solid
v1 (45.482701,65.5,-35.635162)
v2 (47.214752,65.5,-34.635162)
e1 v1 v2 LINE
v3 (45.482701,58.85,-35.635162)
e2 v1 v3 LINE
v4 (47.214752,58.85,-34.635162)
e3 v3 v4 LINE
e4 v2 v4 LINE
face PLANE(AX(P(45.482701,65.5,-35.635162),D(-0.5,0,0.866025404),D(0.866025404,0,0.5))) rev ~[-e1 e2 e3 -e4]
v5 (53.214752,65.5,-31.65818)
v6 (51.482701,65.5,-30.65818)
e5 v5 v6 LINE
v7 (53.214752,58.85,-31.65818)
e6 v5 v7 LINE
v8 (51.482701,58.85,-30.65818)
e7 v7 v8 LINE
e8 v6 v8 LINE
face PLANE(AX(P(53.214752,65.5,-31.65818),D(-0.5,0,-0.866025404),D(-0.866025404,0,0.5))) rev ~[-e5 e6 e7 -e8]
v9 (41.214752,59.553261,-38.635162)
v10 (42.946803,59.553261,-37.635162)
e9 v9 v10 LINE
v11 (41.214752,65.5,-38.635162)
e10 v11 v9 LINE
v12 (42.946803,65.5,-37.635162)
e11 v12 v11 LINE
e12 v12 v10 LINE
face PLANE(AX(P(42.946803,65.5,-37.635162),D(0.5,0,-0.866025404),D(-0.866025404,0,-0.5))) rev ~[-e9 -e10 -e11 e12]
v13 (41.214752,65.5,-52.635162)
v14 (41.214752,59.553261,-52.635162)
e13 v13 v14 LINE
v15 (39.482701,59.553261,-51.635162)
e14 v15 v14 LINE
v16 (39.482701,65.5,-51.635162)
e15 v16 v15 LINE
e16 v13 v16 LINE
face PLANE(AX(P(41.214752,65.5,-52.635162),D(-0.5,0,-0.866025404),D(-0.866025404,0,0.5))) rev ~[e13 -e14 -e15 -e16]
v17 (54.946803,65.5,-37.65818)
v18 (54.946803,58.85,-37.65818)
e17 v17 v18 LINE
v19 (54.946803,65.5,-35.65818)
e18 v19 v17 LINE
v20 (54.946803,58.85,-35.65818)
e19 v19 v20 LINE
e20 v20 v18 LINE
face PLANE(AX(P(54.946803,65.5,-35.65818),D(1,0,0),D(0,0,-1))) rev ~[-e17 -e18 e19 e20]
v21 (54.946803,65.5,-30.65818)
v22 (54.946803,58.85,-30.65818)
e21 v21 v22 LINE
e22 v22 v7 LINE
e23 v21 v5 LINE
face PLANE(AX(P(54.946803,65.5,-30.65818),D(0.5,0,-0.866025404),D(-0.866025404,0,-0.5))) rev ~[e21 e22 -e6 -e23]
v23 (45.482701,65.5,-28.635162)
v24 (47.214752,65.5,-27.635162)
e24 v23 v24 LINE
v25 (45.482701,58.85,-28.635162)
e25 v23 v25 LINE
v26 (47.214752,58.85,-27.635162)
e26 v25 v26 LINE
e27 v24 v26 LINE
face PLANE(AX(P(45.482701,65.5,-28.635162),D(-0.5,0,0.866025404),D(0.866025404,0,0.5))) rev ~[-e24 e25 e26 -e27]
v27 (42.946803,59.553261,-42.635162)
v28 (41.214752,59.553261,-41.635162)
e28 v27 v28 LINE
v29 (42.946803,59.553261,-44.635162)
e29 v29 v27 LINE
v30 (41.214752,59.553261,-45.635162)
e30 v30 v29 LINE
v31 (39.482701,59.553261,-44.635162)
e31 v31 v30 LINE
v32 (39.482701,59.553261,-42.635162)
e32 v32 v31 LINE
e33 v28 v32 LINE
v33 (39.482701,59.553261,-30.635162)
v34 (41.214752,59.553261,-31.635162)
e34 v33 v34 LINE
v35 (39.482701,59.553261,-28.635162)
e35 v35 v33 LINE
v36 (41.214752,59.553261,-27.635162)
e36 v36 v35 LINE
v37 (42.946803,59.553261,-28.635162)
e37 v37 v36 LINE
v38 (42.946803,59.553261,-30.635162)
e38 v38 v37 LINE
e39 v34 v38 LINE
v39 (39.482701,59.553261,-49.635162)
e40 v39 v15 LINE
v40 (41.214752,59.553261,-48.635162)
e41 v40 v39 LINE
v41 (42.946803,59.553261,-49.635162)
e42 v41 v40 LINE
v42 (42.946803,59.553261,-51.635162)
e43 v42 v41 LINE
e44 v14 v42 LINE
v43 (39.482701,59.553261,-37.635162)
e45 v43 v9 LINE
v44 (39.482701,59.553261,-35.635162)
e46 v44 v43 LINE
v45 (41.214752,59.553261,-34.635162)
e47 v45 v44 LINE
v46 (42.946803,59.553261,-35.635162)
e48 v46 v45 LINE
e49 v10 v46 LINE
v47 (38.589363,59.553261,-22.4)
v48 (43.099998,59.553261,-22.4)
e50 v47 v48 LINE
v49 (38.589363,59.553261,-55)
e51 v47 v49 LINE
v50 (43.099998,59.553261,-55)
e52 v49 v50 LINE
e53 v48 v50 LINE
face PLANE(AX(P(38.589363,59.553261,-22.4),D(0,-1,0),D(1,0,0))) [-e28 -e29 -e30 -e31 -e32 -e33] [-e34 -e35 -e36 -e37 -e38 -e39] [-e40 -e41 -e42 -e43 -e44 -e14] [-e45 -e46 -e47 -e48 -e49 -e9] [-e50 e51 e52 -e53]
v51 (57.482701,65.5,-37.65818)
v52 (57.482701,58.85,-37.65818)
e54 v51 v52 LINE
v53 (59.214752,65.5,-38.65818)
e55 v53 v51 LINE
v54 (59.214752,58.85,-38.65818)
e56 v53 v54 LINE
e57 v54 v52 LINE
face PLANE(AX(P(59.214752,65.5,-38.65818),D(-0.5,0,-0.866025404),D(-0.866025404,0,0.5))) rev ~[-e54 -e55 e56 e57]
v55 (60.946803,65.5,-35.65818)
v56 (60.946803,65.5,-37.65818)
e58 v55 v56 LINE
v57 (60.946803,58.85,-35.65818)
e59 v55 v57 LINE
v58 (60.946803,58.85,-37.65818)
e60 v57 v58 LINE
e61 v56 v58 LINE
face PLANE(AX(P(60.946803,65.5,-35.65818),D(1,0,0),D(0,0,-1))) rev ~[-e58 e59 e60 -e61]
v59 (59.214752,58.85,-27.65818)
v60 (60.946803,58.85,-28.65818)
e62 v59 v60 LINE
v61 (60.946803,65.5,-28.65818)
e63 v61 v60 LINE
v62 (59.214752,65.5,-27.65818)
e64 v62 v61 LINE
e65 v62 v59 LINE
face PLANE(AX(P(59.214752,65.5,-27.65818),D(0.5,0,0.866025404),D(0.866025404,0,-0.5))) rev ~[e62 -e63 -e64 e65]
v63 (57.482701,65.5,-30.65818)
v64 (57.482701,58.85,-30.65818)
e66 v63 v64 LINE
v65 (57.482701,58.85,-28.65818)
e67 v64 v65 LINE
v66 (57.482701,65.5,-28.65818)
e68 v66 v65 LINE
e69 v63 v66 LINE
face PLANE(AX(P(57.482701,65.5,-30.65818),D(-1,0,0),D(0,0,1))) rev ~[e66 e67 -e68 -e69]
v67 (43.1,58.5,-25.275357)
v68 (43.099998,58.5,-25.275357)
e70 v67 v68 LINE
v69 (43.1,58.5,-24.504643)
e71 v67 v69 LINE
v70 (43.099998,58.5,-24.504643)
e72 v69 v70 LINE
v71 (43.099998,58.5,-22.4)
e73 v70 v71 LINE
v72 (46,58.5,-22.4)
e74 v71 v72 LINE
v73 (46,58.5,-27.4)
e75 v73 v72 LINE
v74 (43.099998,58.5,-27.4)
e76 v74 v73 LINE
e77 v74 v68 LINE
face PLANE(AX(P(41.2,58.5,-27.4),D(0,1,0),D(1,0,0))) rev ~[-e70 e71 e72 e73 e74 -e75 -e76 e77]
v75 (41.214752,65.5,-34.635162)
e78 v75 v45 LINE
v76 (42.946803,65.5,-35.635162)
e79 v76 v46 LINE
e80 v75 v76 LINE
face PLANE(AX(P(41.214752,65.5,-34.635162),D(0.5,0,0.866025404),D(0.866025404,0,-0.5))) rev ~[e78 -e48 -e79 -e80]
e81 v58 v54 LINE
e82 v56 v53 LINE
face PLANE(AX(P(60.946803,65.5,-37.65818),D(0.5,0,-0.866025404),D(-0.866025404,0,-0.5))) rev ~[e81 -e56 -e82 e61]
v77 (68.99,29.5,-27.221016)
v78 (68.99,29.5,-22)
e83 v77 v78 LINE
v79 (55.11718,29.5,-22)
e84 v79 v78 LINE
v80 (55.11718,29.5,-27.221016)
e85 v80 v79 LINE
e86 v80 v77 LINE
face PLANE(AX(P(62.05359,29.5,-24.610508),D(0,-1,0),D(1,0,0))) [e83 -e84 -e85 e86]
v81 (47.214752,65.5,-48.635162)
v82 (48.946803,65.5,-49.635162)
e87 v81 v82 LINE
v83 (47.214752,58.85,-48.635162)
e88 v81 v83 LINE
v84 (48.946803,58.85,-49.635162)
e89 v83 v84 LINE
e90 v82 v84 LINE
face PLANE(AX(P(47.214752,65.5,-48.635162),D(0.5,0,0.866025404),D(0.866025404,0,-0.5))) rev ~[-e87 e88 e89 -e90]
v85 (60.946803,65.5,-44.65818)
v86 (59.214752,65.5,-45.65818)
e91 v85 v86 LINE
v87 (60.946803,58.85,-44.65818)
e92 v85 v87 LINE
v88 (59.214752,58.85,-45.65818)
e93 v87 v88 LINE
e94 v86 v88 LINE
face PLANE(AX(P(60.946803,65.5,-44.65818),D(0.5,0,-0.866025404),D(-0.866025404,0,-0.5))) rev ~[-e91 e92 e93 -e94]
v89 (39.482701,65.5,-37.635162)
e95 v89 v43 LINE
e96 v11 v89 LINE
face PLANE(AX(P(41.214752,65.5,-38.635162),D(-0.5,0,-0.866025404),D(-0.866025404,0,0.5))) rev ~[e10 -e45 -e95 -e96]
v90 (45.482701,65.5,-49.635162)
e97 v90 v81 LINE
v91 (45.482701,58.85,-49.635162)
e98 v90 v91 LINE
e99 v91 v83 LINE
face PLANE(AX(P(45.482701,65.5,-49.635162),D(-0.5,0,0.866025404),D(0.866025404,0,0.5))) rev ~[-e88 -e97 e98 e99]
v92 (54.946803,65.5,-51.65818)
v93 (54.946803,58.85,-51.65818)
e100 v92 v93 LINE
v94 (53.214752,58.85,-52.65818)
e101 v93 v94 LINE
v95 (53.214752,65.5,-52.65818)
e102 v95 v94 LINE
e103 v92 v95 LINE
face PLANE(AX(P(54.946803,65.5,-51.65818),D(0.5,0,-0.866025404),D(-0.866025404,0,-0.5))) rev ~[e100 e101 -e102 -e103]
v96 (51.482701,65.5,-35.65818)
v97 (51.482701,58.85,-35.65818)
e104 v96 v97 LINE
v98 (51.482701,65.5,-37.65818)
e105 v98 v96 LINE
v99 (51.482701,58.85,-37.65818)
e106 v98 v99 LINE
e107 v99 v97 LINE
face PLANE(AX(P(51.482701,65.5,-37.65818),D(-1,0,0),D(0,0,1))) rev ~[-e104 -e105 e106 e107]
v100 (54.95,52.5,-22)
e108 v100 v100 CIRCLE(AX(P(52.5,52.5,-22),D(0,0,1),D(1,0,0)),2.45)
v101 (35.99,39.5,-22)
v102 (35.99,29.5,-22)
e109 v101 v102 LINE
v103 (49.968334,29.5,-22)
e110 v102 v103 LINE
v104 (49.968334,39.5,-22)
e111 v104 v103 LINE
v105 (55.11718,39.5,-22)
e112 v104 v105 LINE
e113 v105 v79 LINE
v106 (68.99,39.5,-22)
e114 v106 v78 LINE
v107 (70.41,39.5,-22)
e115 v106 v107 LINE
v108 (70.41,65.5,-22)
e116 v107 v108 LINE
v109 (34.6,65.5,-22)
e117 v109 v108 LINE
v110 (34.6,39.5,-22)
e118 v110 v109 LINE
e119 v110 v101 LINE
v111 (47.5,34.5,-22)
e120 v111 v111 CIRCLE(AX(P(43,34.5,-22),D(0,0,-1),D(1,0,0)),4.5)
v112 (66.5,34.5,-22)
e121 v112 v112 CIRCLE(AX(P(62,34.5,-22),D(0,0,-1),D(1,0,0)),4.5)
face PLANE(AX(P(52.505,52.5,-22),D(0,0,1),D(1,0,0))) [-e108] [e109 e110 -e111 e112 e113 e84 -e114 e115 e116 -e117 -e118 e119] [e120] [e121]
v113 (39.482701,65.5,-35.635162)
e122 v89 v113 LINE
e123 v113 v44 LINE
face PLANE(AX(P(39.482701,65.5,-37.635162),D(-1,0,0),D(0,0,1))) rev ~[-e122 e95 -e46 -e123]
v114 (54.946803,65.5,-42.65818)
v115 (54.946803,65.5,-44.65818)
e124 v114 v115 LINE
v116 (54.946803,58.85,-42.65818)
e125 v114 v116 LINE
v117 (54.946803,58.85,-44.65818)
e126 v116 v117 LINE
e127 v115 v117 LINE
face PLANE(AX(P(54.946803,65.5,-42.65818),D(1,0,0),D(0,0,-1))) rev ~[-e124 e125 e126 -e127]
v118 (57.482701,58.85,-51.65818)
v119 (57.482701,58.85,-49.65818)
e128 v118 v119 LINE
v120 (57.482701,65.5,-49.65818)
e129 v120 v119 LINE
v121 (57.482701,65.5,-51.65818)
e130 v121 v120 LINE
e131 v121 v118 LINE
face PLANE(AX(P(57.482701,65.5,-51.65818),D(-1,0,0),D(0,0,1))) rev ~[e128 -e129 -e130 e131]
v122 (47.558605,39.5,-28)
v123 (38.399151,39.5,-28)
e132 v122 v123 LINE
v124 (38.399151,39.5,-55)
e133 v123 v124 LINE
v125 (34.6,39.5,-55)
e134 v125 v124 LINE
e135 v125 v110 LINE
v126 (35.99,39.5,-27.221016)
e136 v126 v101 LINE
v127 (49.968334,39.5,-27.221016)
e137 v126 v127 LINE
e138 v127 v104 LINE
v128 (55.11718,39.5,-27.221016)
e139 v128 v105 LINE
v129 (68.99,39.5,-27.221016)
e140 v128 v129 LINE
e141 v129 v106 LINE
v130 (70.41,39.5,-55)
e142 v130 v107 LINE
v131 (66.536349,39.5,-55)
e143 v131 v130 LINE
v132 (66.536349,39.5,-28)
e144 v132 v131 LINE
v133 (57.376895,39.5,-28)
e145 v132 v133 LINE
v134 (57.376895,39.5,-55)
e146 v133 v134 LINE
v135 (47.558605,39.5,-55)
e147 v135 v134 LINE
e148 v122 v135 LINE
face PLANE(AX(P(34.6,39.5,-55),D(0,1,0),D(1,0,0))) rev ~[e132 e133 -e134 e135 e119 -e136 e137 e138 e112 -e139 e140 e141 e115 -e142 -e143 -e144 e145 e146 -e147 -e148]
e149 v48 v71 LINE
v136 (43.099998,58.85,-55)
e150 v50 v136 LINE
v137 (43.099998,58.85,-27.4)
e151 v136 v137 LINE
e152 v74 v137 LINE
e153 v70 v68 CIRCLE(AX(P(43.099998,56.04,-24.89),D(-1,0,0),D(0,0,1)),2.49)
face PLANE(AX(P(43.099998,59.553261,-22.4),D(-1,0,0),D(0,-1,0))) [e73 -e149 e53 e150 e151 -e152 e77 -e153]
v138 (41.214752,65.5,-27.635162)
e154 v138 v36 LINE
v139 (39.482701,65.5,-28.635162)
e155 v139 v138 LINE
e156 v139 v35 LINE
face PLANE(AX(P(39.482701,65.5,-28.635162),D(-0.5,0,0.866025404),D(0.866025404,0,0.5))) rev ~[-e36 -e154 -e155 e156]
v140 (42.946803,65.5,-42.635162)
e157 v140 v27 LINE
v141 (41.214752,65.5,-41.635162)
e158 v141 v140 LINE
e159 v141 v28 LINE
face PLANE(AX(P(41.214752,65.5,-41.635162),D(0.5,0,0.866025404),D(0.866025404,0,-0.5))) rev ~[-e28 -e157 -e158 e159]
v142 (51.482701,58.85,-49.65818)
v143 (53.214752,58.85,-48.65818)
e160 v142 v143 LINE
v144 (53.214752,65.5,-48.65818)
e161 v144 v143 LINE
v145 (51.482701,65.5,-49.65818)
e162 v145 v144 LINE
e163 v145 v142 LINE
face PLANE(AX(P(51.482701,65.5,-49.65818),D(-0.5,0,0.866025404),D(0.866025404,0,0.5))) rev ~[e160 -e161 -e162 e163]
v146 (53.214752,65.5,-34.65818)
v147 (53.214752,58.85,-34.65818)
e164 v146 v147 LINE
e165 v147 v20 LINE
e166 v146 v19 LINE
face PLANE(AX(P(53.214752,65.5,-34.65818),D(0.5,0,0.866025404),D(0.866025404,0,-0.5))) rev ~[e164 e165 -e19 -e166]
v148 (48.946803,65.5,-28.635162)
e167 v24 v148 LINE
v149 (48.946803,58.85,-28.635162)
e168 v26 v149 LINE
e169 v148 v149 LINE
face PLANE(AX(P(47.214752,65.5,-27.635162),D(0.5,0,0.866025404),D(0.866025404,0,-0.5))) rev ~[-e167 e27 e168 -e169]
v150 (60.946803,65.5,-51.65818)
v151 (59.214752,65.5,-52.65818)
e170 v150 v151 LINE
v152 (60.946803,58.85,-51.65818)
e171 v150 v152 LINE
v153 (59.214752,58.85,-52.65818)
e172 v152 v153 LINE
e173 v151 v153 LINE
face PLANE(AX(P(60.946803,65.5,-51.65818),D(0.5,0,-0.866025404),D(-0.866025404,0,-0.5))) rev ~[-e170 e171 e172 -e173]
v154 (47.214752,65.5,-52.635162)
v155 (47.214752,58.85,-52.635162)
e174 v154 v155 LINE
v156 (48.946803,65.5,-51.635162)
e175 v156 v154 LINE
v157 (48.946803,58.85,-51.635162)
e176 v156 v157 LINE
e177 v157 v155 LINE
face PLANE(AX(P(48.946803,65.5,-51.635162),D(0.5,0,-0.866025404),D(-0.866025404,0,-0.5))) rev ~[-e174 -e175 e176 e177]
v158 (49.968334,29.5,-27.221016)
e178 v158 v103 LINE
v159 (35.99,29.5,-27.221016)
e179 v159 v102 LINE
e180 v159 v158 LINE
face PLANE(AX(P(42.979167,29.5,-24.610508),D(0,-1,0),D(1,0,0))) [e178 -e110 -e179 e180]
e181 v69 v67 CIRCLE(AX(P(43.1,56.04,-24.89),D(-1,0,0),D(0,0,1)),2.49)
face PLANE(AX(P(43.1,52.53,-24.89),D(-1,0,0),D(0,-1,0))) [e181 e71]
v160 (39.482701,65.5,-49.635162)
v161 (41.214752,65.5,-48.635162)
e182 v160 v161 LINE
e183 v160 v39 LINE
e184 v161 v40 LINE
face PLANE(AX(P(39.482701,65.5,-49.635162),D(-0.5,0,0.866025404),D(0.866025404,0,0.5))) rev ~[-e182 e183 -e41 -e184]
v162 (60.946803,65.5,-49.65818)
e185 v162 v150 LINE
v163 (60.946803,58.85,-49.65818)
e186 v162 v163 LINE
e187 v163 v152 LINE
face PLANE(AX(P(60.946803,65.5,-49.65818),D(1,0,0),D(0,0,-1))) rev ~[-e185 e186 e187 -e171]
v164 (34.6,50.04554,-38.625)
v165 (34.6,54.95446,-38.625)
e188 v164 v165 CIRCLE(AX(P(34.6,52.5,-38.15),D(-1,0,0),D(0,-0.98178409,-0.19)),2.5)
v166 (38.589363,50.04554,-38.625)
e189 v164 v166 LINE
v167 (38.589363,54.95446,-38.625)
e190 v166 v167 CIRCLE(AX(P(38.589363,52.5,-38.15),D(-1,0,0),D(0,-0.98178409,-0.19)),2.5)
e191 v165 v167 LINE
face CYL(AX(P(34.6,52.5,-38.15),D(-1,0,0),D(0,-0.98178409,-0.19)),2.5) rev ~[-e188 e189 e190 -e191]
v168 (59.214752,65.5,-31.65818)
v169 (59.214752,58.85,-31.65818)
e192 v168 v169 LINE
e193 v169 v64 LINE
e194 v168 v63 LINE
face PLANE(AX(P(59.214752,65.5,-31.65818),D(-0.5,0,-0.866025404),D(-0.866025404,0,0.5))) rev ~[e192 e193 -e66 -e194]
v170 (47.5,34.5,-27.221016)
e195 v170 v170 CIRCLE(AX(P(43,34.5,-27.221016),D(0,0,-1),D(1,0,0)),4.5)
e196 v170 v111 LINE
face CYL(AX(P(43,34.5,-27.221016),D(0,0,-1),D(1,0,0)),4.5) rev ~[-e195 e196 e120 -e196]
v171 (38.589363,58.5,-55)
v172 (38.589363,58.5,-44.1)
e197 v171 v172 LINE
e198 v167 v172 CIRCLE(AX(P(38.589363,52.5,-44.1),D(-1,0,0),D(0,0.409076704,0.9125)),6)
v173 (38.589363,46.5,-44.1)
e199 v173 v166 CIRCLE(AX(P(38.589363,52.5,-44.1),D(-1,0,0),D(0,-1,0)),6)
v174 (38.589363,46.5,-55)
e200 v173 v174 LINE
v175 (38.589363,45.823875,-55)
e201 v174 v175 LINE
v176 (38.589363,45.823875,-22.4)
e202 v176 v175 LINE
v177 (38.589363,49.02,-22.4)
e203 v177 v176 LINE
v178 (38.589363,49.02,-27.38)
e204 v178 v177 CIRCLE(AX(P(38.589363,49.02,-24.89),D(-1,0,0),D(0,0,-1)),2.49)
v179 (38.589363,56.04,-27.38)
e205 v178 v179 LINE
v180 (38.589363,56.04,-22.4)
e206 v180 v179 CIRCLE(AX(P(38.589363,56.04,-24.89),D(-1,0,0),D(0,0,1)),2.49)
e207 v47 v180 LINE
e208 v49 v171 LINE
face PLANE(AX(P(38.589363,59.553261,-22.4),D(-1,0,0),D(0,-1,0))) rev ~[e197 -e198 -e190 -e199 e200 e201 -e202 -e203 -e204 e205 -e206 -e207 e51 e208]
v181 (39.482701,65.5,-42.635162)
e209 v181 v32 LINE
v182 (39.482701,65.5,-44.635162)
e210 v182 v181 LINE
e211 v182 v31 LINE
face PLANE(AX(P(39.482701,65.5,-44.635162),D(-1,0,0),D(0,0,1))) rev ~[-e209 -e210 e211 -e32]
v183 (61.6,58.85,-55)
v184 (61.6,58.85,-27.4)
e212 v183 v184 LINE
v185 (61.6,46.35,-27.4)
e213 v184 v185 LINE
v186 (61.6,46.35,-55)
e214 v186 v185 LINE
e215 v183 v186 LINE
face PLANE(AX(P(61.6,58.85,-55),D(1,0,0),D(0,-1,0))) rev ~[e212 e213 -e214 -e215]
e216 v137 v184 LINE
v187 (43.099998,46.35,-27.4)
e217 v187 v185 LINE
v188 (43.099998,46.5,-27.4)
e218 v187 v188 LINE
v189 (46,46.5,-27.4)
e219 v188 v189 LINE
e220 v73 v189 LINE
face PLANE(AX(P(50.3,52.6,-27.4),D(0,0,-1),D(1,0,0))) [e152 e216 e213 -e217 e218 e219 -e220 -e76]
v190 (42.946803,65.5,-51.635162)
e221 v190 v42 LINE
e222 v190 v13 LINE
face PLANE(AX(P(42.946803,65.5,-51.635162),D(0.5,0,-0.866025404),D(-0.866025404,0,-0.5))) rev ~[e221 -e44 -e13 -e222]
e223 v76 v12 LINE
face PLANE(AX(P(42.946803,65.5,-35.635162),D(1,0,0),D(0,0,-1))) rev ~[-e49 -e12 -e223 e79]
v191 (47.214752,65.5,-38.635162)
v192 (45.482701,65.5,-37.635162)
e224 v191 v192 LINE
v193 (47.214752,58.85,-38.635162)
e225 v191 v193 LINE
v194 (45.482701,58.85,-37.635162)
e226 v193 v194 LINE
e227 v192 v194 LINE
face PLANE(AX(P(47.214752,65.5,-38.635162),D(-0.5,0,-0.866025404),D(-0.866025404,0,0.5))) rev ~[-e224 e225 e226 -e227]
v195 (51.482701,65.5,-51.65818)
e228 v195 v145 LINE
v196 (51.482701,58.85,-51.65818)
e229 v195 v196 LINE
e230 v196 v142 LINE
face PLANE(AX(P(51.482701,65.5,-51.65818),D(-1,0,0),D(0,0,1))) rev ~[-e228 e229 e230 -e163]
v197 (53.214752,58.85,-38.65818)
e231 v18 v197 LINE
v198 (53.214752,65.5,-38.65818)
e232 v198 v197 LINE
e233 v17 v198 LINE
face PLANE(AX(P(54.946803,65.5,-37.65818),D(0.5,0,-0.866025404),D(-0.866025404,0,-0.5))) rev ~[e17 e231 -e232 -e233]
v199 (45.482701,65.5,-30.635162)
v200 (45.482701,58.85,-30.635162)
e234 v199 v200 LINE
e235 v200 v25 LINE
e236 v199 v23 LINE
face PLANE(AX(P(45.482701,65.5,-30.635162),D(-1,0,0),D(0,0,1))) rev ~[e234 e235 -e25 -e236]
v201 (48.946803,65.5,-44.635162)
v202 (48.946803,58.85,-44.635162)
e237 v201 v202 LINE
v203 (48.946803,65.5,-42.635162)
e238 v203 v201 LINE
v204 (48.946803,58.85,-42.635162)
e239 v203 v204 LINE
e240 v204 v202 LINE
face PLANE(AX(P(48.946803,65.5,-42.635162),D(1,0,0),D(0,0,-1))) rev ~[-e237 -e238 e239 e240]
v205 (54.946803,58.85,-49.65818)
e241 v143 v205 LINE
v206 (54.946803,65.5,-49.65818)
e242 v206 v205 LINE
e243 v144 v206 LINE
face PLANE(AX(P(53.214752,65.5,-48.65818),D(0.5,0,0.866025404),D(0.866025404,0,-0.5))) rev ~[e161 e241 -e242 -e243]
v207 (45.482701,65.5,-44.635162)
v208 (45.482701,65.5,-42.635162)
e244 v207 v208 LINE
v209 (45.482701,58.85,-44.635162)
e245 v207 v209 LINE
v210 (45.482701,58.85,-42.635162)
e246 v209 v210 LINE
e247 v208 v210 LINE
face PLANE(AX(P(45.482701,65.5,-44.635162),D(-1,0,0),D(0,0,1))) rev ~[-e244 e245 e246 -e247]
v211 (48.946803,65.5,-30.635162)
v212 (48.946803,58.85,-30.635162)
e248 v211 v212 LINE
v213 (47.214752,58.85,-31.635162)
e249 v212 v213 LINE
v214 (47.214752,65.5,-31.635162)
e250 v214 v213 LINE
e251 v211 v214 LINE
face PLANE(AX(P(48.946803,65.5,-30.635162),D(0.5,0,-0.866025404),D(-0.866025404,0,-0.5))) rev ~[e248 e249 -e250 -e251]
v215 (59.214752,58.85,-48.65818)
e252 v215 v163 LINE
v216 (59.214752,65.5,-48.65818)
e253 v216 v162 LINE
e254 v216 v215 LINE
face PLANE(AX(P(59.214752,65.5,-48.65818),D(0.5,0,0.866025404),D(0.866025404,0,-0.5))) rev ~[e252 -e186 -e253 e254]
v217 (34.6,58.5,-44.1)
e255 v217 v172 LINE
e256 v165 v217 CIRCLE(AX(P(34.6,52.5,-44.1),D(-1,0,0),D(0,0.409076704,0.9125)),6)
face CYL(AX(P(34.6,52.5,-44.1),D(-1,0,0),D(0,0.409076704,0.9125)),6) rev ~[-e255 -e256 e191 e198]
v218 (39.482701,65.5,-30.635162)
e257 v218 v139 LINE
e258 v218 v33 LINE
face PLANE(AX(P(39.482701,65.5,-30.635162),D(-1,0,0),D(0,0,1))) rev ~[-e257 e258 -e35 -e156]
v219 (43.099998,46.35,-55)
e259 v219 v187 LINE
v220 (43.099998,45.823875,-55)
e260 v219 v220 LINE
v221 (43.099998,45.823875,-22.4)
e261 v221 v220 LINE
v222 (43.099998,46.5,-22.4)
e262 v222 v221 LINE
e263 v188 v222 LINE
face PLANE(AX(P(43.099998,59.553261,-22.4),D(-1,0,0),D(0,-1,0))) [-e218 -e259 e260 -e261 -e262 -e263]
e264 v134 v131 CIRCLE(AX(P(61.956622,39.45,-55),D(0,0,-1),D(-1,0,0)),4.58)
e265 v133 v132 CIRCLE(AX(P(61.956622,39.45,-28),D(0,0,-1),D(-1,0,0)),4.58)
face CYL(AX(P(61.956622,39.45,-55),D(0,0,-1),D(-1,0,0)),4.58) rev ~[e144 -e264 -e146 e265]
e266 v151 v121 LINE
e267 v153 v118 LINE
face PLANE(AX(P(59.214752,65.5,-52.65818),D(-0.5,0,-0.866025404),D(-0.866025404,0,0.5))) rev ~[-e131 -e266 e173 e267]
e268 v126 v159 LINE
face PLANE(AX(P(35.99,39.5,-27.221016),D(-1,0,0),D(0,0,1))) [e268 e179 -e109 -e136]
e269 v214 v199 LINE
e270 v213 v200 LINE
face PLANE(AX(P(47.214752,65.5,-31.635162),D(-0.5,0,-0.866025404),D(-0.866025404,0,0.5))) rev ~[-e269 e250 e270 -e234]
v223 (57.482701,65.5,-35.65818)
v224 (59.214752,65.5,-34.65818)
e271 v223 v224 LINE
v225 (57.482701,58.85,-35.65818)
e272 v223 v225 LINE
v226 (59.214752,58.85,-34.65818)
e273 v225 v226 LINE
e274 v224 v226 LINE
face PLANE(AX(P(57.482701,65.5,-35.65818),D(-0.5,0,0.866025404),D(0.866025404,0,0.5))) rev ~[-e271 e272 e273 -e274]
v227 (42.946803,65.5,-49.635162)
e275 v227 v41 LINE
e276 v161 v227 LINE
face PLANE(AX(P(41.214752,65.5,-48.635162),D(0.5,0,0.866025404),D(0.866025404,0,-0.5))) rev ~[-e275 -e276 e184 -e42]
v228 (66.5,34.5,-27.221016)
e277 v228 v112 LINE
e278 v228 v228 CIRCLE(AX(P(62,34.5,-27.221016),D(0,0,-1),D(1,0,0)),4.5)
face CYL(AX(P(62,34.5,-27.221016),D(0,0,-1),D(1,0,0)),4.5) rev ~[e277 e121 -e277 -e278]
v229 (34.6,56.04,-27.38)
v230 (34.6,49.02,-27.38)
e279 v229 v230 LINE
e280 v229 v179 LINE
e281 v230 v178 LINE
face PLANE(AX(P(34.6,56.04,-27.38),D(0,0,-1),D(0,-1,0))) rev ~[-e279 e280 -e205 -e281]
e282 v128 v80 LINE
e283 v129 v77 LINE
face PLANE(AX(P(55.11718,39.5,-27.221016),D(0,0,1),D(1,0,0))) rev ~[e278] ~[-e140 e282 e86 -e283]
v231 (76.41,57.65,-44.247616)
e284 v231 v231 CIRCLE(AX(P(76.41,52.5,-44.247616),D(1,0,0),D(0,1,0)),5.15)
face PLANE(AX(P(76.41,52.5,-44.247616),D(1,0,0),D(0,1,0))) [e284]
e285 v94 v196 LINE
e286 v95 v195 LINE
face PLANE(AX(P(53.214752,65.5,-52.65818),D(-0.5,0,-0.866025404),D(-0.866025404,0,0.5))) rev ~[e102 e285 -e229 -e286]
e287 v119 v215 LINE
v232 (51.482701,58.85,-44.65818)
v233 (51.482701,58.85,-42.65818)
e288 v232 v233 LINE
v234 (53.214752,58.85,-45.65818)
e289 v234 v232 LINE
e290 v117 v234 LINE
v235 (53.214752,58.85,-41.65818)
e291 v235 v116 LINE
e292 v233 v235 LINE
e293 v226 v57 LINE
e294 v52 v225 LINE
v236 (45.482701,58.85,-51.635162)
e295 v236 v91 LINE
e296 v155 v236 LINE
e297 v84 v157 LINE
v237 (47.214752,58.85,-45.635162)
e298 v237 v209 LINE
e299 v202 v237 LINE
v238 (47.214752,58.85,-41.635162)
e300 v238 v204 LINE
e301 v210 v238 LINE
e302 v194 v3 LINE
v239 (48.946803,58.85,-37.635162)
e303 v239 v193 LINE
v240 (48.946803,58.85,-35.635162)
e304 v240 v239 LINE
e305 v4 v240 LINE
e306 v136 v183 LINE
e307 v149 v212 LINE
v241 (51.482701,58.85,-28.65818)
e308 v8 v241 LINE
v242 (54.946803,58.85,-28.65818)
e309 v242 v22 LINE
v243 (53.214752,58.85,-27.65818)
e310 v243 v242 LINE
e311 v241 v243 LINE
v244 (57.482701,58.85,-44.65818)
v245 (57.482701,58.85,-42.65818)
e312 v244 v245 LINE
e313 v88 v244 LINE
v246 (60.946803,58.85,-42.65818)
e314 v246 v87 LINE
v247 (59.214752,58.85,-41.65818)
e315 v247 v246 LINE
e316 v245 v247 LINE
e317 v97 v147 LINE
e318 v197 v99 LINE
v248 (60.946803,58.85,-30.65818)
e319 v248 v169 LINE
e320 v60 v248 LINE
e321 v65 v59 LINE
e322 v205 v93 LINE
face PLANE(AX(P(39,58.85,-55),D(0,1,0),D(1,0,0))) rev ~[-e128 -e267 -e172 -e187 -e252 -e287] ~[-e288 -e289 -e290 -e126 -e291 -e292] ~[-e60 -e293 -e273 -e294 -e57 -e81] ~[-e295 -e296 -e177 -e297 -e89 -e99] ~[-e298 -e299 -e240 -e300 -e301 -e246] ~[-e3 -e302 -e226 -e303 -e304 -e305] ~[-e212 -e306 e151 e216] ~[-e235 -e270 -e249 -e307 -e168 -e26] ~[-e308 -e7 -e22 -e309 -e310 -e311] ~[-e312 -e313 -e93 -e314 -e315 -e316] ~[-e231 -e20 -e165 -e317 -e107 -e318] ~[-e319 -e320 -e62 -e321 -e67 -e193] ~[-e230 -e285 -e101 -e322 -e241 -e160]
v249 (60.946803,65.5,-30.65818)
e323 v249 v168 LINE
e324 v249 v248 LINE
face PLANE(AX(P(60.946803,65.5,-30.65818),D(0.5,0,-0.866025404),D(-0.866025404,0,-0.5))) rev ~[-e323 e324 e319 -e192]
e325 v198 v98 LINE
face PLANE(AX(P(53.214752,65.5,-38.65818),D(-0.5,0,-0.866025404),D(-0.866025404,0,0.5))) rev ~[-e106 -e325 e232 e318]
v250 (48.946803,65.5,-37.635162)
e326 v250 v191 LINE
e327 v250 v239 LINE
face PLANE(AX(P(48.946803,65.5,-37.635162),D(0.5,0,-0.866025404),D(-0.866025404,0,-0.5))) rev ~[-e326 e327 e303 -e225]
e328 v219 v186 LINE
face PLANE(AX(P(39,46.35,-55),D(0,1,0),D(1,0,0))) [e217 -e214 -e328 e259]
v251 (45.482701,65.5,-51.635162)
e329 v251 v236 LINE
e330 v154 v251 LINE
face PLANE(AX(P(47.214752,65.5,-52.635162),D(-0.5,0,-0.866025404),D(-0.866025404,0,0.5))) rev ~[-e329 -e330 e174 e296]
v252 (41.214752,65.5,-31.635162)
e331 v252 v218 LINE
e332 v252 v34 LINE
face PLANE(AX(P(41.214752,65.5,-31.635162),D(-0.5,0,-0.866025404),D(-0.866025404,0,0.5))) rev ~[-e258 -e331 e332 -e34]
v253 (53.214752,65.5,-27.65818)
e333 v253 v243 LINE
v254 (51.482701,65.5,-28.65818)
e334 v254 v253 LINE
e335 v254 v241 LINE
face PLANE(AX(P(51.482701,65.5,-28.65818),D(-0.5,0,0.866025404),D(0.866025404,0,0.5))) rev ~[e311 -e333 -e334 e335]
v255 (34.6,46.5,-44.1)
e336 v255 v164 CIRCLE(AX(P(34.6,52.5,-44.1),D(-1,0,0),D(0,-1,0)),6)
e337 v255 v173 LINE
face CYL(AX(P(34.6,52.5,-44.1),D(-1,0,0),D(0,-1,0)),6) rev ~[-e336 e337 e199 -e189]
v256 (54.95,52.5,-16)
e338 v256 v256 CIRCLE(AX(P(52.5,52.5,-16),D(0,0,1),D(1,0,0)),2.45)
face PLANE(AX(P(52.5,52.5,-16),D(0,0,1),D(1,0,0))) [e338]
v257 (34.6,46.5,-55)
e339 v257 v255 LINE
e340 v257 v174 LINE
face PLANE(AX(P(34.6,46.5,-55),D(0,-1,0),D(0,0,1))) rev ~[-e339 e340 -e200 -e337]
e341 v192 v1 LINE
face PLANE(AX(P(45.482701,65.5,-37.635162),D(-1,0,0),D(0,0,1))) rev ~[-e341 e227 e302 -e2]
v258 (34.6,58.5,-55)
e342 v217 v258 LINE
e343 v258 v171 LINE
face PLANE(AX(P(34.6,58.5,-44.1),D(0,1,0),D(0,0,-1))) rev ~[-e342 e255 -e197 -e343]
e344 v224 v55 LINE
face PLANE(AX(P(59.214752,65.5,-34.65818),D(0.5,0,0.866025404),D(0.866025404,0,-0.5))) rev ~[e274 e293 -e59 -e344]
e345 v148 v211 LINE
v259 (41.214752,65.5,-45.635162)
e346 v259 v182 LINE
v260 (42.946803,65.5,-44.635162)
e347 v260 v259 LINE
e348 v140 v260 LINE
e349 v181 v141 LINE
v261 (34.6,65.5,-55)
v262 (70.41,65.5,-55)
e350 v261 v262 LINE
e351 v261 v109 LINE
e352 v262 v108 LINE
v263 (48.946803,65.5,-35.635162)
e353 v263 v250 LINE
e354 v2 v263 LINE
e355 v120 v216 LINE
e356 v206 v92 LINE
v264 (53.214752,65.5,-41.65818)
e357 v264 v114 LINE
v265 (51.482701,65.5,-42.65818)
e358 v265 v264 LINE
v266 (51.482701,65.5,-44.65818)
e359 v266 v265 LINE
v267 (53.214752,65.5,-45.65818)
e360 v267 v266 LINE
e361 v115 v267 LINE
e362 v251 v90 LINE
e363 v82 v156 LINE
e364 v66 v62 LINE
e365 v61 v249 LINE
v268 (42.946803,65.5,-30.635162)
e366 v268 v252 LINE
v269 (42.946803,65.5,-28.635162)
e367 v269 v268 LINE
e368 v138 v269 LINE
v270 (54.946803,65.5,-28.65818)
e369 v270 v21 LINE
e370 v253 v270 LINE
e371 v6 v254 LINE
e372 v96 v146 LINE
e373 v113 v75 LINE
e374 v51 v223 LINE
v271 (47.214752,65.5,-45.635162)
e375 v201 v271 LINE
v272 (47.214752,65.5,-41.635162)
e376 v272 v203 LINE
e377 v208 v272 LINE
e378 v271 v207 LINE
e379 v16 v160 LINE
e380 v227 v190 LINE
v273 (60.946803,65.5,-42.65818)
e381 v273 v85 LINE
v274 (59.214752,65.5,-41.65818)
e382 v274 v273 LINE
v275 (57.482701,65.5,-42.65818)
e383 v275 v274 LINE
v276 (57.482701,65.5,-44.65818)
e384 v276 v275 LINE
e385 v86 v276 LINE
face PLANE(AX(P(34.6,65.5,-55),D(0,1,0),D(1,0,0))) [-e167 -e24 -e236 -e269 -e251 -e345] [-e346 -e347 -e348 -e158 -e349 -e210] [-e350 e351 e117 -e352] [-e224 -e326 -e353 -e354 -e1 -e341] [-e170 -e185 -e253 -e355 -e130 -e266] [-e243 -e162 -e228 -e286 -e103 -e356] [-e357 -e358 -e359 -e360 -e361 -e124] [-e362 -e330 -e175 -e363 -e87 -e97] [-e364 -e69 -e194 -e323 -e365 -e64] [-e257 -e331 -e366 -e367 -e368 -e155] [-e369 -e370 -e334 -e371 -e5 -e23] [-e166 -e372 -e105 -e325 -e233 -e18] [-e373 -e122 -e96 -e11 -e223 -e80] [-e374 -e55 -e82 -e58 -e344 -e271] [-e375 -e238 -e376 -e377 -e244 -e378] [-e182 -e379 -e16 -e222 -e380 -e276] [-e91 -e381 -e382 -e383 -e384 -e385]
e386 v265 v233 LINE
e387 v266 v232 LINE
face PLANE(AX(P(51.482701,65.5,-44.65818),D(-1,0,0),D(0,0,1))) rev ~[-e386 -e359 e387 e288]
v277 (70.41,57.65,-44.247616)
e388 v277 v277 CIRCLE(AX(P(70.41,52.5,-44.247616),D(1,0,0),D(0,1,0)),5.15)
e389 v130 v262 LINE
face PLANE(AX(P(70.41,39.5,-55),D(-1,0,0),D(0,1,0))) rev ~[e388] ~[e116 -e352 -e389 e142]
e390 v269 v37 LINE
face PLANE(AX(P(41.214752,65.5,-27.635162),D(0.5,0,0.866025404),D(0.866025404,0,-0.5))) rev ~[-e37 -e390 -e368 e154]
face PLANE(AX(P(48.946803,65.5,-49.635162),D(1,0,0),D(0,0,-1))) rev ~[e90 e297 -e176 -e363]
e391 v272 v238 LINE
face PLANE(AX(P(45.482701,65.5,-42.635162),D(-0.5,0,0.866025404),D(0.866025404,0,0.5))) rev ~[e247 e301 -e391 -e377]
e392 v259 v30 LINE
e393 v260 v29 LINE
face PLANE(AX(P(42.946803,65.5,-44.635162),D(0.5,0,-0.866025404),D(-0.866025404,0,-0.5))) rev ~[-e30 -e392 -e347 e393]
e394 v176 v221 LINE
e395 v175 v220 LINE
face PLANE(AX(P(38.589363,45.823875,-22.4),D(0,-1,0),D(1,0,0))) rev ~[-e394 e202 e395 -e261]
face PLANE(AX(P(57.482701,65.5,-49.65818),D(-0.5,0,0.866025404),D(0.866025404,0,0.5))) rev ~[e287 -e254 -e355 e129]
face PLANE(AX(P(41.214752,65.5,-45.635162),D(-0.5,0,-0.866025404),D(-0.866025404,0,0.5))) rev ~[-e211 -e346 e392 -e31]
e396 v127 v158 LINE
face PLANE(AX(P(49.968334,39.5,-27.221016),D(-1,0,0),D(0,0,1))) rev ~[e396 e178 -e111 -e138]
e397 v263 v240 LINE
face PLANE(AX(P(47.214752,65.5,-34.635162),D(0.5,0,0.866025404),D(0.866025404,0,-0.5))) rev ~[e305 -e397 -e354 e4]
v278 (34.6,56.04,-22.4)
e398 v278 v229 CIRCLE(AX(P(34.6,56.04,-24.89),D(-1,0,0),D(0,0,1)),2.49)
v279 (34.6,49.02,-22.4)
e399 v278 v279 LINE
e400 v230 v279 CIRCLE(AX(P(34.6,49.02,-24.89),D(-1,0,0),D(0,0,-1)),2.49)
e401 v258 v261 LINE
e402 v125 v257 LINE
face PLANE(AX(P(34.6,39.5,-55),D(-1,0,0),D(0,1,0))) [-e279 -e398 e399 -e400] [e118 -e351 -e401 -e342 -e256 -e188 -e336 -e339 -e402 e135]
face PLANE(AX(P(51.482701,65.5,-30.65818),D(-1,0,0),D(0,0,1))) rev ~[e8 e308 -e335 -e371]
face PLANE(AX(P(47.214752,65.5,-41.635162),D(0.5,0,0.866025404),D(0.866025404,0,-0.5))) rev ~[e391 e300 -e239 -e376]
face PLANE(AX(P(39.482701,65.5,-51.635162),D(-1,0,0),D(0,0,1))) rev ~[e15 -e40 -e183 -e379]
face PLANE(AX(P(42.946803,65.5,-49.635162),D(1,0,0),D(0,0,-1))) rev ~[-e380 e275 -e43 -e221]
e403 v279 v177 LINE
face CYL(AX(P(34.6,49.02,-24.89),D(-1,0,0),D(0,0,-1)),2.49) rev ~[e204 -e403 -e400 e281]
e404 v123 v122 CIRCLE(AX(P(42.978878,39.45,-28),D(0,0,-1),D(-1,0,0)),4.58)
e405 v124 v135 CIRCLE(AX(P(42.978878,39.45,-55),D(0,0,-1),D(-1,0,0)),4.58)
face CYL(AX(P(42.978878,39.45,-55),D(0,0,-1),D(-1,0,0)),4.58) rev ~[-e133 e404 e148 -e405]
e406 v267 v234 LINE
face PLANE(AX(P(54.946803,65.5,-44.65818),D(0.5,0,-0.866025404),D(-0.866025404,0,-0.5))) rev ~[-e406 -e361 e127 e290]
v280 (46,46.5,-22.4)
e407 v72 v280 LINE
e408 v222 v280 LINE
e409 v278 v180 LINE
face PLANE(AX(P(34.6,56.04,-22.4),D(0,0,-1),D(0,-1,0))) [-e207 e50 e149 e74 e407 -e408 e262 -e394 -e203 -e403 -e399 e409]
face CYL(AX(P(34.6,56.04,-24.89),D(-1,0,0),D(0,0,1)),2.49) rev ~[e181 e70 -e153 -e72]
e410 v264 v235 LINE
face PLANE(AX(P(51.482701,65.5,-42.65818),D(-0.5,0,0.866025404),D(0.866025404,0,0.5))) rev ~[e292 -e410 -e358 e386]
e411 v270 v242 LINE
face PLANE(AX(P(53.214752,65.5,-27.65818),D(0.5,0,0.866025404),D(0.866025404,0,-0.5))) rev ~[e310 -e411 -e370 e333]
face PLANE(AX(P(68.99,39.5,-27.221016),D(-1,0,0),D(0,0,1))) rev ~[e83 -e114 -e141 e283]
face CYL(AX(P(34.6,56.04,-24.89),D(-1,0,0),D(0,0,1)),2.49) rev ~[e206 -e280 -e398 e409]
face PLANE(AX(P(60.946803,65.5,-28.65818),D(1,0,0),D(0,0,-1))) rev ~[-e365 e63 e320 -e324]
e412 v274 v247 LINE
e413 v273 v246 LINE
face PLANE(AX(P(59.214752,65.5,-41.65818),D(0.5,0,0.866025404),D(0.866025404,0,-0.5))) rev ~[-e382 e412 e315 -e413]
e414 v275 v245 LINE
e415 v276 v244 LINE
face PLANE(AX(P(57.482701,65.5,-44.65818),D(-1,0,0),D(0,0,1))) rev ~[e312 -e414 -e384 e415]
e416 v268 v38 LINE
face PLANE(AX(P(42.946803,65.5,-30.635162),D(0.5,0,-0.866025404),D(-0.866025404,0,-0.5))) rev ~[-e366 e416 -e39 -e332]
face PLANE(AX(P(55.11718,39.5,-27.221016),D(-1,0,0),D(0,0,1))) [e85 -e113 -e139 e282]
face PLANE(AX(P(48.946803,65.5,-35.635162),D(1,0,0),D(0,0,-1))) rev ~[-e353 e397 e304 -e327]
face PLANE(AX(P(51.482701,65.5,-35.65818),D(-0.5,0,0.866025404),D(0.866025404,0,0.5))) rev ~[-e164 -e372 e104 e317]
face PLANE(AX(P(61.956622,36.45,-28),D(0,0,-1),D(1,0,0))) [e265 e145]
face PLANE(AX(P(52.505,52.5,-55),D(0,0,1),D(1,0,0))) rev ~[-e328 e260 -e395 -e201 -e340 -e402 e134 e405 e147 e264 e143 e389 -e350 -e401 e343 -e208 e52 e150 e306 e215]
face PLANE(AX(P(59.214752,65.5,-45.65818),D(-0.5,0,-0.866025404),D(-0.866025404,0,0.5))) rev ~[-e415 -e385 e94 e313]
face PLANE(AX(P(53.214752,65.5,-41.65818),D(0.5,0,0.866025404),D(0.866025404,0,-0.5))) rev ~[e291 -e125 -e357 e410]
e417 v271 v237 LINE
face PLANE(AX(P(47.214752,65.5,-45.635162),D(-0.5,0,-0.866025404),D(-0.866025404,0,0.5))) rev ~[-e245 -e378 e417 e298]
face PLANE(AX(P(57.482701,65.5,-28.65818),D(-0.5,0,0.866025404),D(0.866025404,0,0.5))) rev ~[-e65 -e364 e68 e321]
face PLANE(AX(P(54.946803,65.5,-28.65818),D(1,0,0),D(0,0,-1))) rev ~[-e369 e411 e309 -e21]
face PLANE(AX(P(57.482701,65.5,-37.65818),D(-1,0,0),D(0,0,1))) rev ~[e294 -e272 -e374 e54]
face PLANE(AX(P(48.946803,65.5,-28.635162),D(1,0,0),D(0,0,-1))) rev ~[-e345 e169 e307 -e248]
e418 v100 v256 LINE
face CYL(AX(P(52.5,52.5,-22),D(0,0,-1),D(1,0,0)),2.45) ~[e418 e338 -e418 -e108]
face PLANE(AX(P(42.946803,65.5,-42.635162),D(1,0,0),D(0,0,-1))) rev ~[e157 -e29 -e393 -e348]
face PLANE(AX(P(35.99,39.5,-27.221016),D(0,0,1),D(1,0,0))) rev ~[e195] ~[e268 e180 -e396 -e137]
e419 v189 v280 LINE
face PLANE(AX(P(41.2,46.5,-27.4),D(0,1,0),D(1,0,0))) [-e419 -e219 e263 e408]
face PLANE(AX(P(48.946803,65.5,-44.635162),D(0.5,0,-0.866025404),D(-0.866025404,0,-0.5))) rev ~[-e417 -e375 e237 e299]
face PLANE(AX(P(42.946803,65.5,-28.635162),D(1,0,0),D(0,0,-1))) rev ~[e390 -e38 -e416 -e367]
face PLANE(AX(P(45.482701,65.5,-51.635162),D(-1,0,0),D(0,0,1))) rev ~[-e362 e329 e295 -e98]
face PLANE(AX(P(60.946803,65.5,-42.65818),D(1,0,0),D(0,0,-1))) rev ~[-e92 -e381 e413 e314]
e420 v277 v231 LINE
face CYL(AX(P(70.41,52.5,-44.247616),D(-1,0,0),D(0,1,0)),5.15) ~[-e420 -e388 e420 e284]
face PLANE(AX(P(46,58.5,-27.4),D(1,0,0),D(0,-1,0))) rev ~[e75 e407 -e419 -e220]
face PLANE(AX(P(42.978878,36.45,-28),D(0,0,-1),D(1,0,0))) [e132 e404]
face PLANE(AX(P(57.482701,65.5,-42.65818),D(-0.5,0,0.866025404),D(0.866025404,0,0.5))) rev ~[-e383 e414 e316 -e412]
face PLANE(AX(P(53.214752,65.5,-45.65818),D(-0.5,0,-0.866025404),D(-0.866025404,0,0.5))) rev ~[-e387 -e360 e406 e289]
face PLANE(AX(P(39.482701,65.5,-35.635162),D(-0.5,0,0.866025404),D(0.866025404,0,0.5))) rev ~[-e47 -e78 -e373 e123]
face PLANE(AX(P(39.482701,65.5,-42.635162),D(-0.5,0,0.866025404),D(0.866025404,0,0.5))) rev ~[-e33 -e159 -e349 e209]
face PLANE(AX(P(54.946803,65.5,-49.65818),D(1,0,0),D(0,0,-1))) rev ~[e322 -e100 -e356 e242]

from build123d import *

# Parameters (mm, degrees)
SKETCH007_W          = 35.81
SKETCH007_H          = 26
PAD002_DEPTH         = 33
SKETCH008_R          = 2.45
PAD003_DEPTH         = 6
SKETCH009_W          = 13.978334
SKETCH009_H          = 5.221016
SKETCH009_W_2        = 13.87282
PAD004_DEPTH         = 10
SKETCH010_R          = 4.5
POCKET_DEPTH         = 11.222016
SKETCH016_W          = 22.6
SKETCH016_H          = 12.5
POCKET004_DEPTH      = 27.6
POCKET005_DEPTH      = 5.4
SKETCH018_W          = 4.8
SKETCH018_H          = 12
POCKET006_DEPTH      = 5
POCKET007_DEPTH      = 8.5
POCKET008_DEPTH      = 200
POCKET008_DEPTH_BACK = 200
POCKET036_DEPTH      = 5
SKETCH099_R          = 5.15
PAD045_DEPTH         = 6
SKETCH100_W          = 4.510635
SKETCH100_H          = 13.729386
POCKET046_DEPTH      = 34
POCKET047_DEPTH      = 9
POCKET048_DEPTH      = 27


with BuildPart() as part:
    # Sketch007 → Pad002 (new body)
    with BuildSketch(Plane.XY):
        with Locations((52.505, 52.5)):
            Rectangle(SKETCH007_W, SKETCH007_H)
    extrude(amount=PAD002_DEPTH)

    # Sketch008 (on Face6 of Pad002) → Pad003 (join)
    with BuildSketch(Plane.XY.offset(33)):
        with Locations((52.5, 52.5)):
            Circle(SKETCH008_R)
    extrude(amount=PAD003_DEPTH)

    # Sketch009 (on Face1 of Pad003) → Pad004 (join)
    with BuildSketch(Plane.XZ.offset(-39.5)):
        with Locations((42.979167, 30.389492)):
            Rectangle(SKETCH009_W, SKETCH009_H)
        with Locations((62.05359, 30.389492)):
            Rectangle(SKETCH009_W_2, SKETCH009_H)
    extrude(amount=PAD004_DEPTH)

    # Sketch010 (on Face6 of Pad004) → Pocket (cut, through all)
    with BuildSketch(Plane(origin=(0, 0, 27.778984), x_dir=(1, 0, 0), z_dir=(0, 0, -1))):
        with Locations((62, -34.5)):
            Circle(SKETCH010_R)
        with Locations((43, -34.5)):
            Circle(SKETCH010_R)
    extrude(amount=-POCKET_DEPTH, mode=Mode.SUBTRACT)

    # Sketch016 → Pocket004 (cut)
    with BuildSketch(Plane(origin=(0, 0, 0), x_dir=(1, 0, 0), z_dir=(0, 0, -1))):
        with Locations((50.3, -52.6)):
            Rectangle(SKETCH016_W, SKETCH016_H)
    extrude(amount=-POCKET004_DEPTH, mode=Mode.SUBTRACT)

    # Sketch015 (on Face3 of Pocket) → Pocket005 (cut)
    with BuildSketch(Plane(origin=(34.6, 0, 0), x_dir=(0, -1, 0), z_dir=(-1, 0, 0))):
        with BuildLine():
            Line((-58.5, 0), (-46.5, 0))
            Line((-46.5, 0), (-46.5, 10.9))
            ThreePointArc((-46.5, 10.9), (-47.4637930268, 14.1613830383), (-50.0455397742, 16.375))
            ThreePointArc((-50.0455397742, 16.375), (-52.5, 19.35), (-54.9544602258, 16.375))
            ThreePointArc((-54.9544602258, 16.375), (-57.5362069732, 14.1613830383), (-58.5, 10.9))
            Line((-58.5, 10.9), (-58.5, 0))
        make_face()
    extrude(amount=-POCKET005_DEPTH, mode=Mode.SUBTRACT)

    # Sketch018 → Pocket006 (cut)
    with BuildSketch(Plane(origin=(0, 0, 27.6), x_dir=(1, 0, 0), z_dir=(0, 0, -1))):
        with Locations((43.6, -52.5)):
            Rectangle(SKETCH018_W, SKETCH018_H)
    extrude(amount=-POCKET006_DEPTH, mode=Mode.SUBTRACT)

    # Sketch020 (on Face3 of Pocket006) → Pocket007 (cut)
    with BuildSketch(Plane(origin=(34.6, 0, 0), x_dir=(0, -1, 0), z_dir=(-1, 0, 0))):
        with BuildLine():
            ThreePointArc((-56.04, 32.6), (-58.53, 30.11), (-56.04, 27.62))
            Line((-56.04, 27.62), (-49.02, 27.62))
            ThreePointArc((-49.02, 27.62), (-46.53, 30.11), (-49.02, 32.6))
            Line((-56.04, 32.6), (-49.02, 32.6))
        make_face()
    extrude(amount=-POCKET007_DEPTH, mode=Mode.SUBTRACT)

    # Sketch021 (on Face9 of Pocket007) → Pocket008 (cut, two sides)
    with BuildSketch(Plane(origin=(0, 0, 27.778984), x_dir=(1, 0, 0), z_dir=(0, 0, -1))) as pocket008_sk:
        Polygon((-57.6610266203, 24.8205080757), (-59.6610266203, 25.9752086141), (-61.6610266203, 24.8205080757), (-61.6610266203, 22.5111069989), (-59.6610266203, 21.3564064606), (-57.6610266203, 22.5111069989), align=None)
        Polygon((-57.6610266203, 18.2017059222), (-59.6610266203, 19.3564064606), (-61.6610266203, 18.2017059222), (-61.6610266203, 15.8923048454), (-59.6610266203, 14.737604307), (-57.6610266203, 15.8923048454), align=None)
        Polygon((-57.6610266203, 11.5829037687), (-59.6610266203, 12.737604307), (-61.6610266203, 11.5829037687), (-61.6610266203, 9.2735026919), (-59.6610266203, 8.1188021535), (-57.6610266203, 9.2735026919), align=None)
        Polygon((-57.6610266203, 4.9641016151), (-59.6610266203, 6.1188021535), (-61.6610266203, 4.9641016151), (-61.6610266203, 2.6547005384), (-59.6610266203, 1.5), (-57.6610266203, 2.6547005384), align=None)
        Polygon((-45.6610266203, 24.8205080757), (-47.6610266203, 25.9752086141), (-49.6610266203, 24.8205080757), (-49.6610266203, 22.5111069989), (-47.6610266203, 21.3564064606), (-45.6610266203, 22.5111069989), align=None)
        Polygon((-45.6610266203, 18.2017059222), (-47.6610266203, 19.3564064606), (-49.6610266203, 18.2017059222), (-49.6610266203, 15.8923048454), (-47.6610266203, 14.737604307), (-45.6610266203, 15.8923048454), align=None)
        Polygon((-45.6610266203, 11.5829037687), (-47.6610266203, 12.737604307), (-49.6610266203, 11.5829037687), (-49.6610266203, 9.2735026919), (-47.6610266203, 8.1188021535), (-45.6610266203, 9.2735026919), align=None)
        Polygon((-45.6610266203, 4.9641016151), (-47.6610266203, 6.1188021535), (-49.6610266203, 4.9641016151), (-49.6610266203, 2.6547005384), (-47.6610266203, 1.5), (-45.6610266203, 2.6547005384), align=None)
        Polygon((-39.6610266203, 24.8205080757), (-41.6610266203, 25.9752086141), (-43.6610266203, 24.8205080757), (-43.6610266203, 22.5111069989), (-41.6610266203, 21.3564064606), (-39.6610266203, 22.5111069989), align=None)
        Polygon((-39.6610266203, 18.2017059222), (-41.6610266203, 19.3564064606), (-43.6610266203, 18.2017059222), (-43.6610266203, 15.8923048454), (-41.6610266203, 14.737604307), (-39.6610266203, 15.8923048454), align=None)
        Polygon((-39.6610266203, 11.5829037687), (-41.6610266203, 12.737604307), (-43.6610266203, 11.5829037687), (-43.6610266203, 9.2735026919), (-41.6610266203, 8.1188021535), (-39.6610266203, 9.2735026919), align=None)
        Polygon((-39.6610266203, 4.9641016151), (-41.6610266203, 6.1188021535), (-43.6610266203, 4.9641016151), (-43.6610266203, 2.6547005384), (-41.6610266203, 1.5), (-39.6610266203, 2.6547005384), align=None)
        Polygon((-51.6610266203, 24.8205080757), (-53.6610266203, 25.9752086141), (-55.6610266203, 24.8205080757), (-55.6610266203, 22.5111069989), (-53.6610266203, 21.3564064606), (-51.6610266203, 22.5111069989), align=None)
        Polygon((-51.6610266203, 18.2017059222), (-53.6610266203, 19.3564064606), (-55.6610266203, 18.2017059222), (-55.6610266203, 15.8923048454), (-53.6610266203, 14.737604307), (-51.6610266203, 15.8923048454), align=None)
        Polygon((-51.6610266203, 11.5829037687), (-53.6610266203, 12.737604307), (-55.6610266203, 11.5829037687), (-55.6610266203, 9.2735026919), (-53.6610266203, 8.1188021535), (-51.6610266203, 9.2735026919), align=None)
        Polygon((-51.6610266203, 4.9641016151), (-53.6610266203, 6.1188021535), (-55.6610266203, 4.9641016151), (-55.6610266203, 2.6547005384), (-53.6610266203, 1.5), (-51.6610266203, 2.6547005384), align=None)
    extrude(amount=-POCKET008_DEPTH, mode=Mode.SUBTRACT)
    extrude(pocket008_sk.sketch, amount=POCKET008_DEPTH_BACK, mode=Mode.SUBTRACT)

    # CopySketch077 → Pocket036 (cut)
    with BuildSketch(Plane.XZ.offset(10)):
        with BuildLine():
            ThreePointArc((49.5809685833, -52.61365544), (52.5285478813, -63.912849758), (55.405181515, -52.5953856034))
            ThreePointArc((55.405181515, -52.5953856034), (52.4814034168, -48.8837389355), (49.5809685833, -52.61365544))
        make_face()
    extrude(amount=-POCKET036_DEPTH, mode=Mode.SUBTRACT)

    # Sketch099 (on Face11 of Pocket036) → Pad045 (join)
    with BuildSketch(Plane.YZ.offset(70.41)):
        with Locations((52.5, 10.752384)):
            Circle(SKETCH099_R)
    extrude(amount=PAD045_DEPTH)

    # Sketch100 (on Face44 of Pad045) → Pocket046 (cut)
    with BuildSketch(Plane(origin=(0, 0, 32.6), x_dir=(1, 0, 0), z_dir=(0, 0, -1))):
        with Locations((40.8446805, -52.688568)):
            Rectangle(SKETCH100_W, SKETCH100_H)
    extrude(amount=POCKET046_DEPTH, mode=Mode.SUBTRACT)

    # Sketch101 (on Face12 of Pocket046) → Pocket047 (cut)
    with BuildSketch(Plane(origin=(0, 65.5, 0), x_dir=(-1, 0, 0), z_dir=(0, 1, 0))):
        Polygon((-59.214752, 23.341819945), (-57.4827011924, 24.341819945), (-57.4827011924, 26.341819945), (-59.214752, 27.341819945), (-60.9468028076, 26.341819945), (-60.9468028076, 24.341819945), align=None)
        Polygon((-59.214752, 16.341819945), (-57.4827011924, 17.341819945), (-57.4827011924, 19.341819945), (-59.214752, 20.341819945), (-60.9468028076, 19.341819945), (-60.9468028076, 17.341819945), align=None)
        Polygon((-59.214752, 9.341819945), (-57.4827011924, 10.341819945), (-57.4827011924, 12.341819945), (-59.214752, 13.341819945), (-60.9468028076, 12.341819945), (-60.9468028076, 10.341819945), align=None)
        Polygon((-59.214752, 2.341819945), (-57.4827011924, 3.341819945), (-57.4827011924, 5.341819945), (-59.214752, 6.341819945), (-60.9468028076, 5.341819945), (-60.9468028076, 3.341819945), align=None)
        Polygon((-53.214752, 23.341819945), (-51.4827011924, 24.341819945), (-51.4827011924, 26.341819945), (-53.214752, 27.341819945), (-54.9468028076, 26.341819945), (-54.9468028076, 24.341819945), align=None)
        Polygon((-53.214752, 16.341819945), (-51.4827011924, 17.341819945), (-51.4827011924, 19.341819945), (-53.214752, 20.341819945), (-54.9468028076, 19.341819945), (-54.9468028076, 17.341819945), align=None)
        Polygon((-53.214752, 9.341819945), (-51.4827011924, 10.341819945), (-51.4827011924, 12.341819945), (-53.214752, 13.341819945), (-54.9468028076, 12.341819945), (-54.9468028076, 10.341819945), align=None)
        Polygon((-53.214752, 2.341819945), (-51.4827011924, 3.341819945), (-51.4827011924, 5.341819945), (-53.214752, 6.341819945), (-54.9468028076, 5.341819945), (-54.9468028076, 3.341819945), align=None)
        Polygon((-47.214752, 23.364838), (-45.4827011924, 24.364838), (-45.4827011924, 26.364838), (-47.214752, 27.364838), (-48.9468028076, 26.364838), (-48.9468028076, 24.364838), align=None)
        Polygon((-47.214752, 16.364838), (-45.4827011924, 17.364838), (-45.4827011924, 19.364838), (-47.214752, 20.364838), (-48.9468028076, 19.364838), (-48.9468028076, 17.364838), align=None)
        Polygon((-47.214752, 9.364838), (-45.4827011924, 10.364838), (-45.4827011924, 12.364838), (-47.214752, 13.364838), (-48.9468028076, 12.364838), (-48.9468028076, 10.364838), align=None)
        Polygon((-47.214752, 2.364838), (-45.4827011924, 3.364838), (-45.4827011924, 5.364838), (-47.214752, 6.364838), (-48.9468028076, 5.364838), (-48.9468028076, 3.364838), align=None)
        Polygon((-41.214752, 23.364838), (-39.4827011924, 24.364838), (-39.4827011924, 26.364838), (-41.214752, 27.364838), (-42.9468028076, 26.364838), (-42.9468028076, 24.364838), align=None)
        Polygon((-41.214752, 16.364838), (-39.4827011924, 17.364838), (-39.4827011924, 19.364838), (-41.214752, 20.364838), (-42.9468028076, 19.364838), (-42.9468028076, 17.364838), align=None)
        Polygon((-41.214752, 9.364838), (-39.4827011924, 10.364838), (-39.4827011924, 12.364838), (-41.214752, 13.364838), (-42.9468028076, 12.364838), (-42.9468028076, 10.364838), align=None)
        Polygon((-41.214752, 2.364838), (-39.4827011924, 3.364838), (-39.4827011924, 5.364838), (-41.214752, 6.364838), (-42.9468028076, 5.364838), (-42.9468028076, 3.364838), align=None)
    extrude(amount=-POCKET047_DEPTH, mode=Mode.SUBTRACT)

    # Sketch102 (on Face2 of Pocket047) → Pocket048 (cut)
    with BuildSketch(Plane(origin=(0, 0, 0), x_dir=(1, 0, 0), z_dir=(0, 0, -1))):
        with BuildLine():
            ThreePointArc((47.558878, -33.45), (42.978878, -28.87), (38.398878, -33.45))
            Line((38.398878, -33.45), (38.398878, -39.45))
            ThreePointArc((38.398878, -39.45), (42.978878, -44.03), (47.558878, -39.45))
            Line((47.558878, -33.45), (47.558878, -39.45))
        make_face()
        with BuildLine():
            ThreePointArc((66.5366215742, -33.45), (61.9566215742, -28.87), (57.3766215742, -33.45))
            Line((57.3766215742, -33.45), (57.3766215742, -39.45))
            ThreePointArc((57.3766215742, -39.45), (61.9566215742, -44.03), (66.5366215742, -39.45))
            Line((66.5366215742, -33.45), (66.5366215742, -39.45))
        make_face()
    extrude(amount=-POCKET048_DEPTH, mode=Mode.SUBTRACT)


with BuildPart() as part_1:
    # Body002 placement: moved
    add(part.part.moved(Location((0, 0, -55))))


solid = part_1.part
